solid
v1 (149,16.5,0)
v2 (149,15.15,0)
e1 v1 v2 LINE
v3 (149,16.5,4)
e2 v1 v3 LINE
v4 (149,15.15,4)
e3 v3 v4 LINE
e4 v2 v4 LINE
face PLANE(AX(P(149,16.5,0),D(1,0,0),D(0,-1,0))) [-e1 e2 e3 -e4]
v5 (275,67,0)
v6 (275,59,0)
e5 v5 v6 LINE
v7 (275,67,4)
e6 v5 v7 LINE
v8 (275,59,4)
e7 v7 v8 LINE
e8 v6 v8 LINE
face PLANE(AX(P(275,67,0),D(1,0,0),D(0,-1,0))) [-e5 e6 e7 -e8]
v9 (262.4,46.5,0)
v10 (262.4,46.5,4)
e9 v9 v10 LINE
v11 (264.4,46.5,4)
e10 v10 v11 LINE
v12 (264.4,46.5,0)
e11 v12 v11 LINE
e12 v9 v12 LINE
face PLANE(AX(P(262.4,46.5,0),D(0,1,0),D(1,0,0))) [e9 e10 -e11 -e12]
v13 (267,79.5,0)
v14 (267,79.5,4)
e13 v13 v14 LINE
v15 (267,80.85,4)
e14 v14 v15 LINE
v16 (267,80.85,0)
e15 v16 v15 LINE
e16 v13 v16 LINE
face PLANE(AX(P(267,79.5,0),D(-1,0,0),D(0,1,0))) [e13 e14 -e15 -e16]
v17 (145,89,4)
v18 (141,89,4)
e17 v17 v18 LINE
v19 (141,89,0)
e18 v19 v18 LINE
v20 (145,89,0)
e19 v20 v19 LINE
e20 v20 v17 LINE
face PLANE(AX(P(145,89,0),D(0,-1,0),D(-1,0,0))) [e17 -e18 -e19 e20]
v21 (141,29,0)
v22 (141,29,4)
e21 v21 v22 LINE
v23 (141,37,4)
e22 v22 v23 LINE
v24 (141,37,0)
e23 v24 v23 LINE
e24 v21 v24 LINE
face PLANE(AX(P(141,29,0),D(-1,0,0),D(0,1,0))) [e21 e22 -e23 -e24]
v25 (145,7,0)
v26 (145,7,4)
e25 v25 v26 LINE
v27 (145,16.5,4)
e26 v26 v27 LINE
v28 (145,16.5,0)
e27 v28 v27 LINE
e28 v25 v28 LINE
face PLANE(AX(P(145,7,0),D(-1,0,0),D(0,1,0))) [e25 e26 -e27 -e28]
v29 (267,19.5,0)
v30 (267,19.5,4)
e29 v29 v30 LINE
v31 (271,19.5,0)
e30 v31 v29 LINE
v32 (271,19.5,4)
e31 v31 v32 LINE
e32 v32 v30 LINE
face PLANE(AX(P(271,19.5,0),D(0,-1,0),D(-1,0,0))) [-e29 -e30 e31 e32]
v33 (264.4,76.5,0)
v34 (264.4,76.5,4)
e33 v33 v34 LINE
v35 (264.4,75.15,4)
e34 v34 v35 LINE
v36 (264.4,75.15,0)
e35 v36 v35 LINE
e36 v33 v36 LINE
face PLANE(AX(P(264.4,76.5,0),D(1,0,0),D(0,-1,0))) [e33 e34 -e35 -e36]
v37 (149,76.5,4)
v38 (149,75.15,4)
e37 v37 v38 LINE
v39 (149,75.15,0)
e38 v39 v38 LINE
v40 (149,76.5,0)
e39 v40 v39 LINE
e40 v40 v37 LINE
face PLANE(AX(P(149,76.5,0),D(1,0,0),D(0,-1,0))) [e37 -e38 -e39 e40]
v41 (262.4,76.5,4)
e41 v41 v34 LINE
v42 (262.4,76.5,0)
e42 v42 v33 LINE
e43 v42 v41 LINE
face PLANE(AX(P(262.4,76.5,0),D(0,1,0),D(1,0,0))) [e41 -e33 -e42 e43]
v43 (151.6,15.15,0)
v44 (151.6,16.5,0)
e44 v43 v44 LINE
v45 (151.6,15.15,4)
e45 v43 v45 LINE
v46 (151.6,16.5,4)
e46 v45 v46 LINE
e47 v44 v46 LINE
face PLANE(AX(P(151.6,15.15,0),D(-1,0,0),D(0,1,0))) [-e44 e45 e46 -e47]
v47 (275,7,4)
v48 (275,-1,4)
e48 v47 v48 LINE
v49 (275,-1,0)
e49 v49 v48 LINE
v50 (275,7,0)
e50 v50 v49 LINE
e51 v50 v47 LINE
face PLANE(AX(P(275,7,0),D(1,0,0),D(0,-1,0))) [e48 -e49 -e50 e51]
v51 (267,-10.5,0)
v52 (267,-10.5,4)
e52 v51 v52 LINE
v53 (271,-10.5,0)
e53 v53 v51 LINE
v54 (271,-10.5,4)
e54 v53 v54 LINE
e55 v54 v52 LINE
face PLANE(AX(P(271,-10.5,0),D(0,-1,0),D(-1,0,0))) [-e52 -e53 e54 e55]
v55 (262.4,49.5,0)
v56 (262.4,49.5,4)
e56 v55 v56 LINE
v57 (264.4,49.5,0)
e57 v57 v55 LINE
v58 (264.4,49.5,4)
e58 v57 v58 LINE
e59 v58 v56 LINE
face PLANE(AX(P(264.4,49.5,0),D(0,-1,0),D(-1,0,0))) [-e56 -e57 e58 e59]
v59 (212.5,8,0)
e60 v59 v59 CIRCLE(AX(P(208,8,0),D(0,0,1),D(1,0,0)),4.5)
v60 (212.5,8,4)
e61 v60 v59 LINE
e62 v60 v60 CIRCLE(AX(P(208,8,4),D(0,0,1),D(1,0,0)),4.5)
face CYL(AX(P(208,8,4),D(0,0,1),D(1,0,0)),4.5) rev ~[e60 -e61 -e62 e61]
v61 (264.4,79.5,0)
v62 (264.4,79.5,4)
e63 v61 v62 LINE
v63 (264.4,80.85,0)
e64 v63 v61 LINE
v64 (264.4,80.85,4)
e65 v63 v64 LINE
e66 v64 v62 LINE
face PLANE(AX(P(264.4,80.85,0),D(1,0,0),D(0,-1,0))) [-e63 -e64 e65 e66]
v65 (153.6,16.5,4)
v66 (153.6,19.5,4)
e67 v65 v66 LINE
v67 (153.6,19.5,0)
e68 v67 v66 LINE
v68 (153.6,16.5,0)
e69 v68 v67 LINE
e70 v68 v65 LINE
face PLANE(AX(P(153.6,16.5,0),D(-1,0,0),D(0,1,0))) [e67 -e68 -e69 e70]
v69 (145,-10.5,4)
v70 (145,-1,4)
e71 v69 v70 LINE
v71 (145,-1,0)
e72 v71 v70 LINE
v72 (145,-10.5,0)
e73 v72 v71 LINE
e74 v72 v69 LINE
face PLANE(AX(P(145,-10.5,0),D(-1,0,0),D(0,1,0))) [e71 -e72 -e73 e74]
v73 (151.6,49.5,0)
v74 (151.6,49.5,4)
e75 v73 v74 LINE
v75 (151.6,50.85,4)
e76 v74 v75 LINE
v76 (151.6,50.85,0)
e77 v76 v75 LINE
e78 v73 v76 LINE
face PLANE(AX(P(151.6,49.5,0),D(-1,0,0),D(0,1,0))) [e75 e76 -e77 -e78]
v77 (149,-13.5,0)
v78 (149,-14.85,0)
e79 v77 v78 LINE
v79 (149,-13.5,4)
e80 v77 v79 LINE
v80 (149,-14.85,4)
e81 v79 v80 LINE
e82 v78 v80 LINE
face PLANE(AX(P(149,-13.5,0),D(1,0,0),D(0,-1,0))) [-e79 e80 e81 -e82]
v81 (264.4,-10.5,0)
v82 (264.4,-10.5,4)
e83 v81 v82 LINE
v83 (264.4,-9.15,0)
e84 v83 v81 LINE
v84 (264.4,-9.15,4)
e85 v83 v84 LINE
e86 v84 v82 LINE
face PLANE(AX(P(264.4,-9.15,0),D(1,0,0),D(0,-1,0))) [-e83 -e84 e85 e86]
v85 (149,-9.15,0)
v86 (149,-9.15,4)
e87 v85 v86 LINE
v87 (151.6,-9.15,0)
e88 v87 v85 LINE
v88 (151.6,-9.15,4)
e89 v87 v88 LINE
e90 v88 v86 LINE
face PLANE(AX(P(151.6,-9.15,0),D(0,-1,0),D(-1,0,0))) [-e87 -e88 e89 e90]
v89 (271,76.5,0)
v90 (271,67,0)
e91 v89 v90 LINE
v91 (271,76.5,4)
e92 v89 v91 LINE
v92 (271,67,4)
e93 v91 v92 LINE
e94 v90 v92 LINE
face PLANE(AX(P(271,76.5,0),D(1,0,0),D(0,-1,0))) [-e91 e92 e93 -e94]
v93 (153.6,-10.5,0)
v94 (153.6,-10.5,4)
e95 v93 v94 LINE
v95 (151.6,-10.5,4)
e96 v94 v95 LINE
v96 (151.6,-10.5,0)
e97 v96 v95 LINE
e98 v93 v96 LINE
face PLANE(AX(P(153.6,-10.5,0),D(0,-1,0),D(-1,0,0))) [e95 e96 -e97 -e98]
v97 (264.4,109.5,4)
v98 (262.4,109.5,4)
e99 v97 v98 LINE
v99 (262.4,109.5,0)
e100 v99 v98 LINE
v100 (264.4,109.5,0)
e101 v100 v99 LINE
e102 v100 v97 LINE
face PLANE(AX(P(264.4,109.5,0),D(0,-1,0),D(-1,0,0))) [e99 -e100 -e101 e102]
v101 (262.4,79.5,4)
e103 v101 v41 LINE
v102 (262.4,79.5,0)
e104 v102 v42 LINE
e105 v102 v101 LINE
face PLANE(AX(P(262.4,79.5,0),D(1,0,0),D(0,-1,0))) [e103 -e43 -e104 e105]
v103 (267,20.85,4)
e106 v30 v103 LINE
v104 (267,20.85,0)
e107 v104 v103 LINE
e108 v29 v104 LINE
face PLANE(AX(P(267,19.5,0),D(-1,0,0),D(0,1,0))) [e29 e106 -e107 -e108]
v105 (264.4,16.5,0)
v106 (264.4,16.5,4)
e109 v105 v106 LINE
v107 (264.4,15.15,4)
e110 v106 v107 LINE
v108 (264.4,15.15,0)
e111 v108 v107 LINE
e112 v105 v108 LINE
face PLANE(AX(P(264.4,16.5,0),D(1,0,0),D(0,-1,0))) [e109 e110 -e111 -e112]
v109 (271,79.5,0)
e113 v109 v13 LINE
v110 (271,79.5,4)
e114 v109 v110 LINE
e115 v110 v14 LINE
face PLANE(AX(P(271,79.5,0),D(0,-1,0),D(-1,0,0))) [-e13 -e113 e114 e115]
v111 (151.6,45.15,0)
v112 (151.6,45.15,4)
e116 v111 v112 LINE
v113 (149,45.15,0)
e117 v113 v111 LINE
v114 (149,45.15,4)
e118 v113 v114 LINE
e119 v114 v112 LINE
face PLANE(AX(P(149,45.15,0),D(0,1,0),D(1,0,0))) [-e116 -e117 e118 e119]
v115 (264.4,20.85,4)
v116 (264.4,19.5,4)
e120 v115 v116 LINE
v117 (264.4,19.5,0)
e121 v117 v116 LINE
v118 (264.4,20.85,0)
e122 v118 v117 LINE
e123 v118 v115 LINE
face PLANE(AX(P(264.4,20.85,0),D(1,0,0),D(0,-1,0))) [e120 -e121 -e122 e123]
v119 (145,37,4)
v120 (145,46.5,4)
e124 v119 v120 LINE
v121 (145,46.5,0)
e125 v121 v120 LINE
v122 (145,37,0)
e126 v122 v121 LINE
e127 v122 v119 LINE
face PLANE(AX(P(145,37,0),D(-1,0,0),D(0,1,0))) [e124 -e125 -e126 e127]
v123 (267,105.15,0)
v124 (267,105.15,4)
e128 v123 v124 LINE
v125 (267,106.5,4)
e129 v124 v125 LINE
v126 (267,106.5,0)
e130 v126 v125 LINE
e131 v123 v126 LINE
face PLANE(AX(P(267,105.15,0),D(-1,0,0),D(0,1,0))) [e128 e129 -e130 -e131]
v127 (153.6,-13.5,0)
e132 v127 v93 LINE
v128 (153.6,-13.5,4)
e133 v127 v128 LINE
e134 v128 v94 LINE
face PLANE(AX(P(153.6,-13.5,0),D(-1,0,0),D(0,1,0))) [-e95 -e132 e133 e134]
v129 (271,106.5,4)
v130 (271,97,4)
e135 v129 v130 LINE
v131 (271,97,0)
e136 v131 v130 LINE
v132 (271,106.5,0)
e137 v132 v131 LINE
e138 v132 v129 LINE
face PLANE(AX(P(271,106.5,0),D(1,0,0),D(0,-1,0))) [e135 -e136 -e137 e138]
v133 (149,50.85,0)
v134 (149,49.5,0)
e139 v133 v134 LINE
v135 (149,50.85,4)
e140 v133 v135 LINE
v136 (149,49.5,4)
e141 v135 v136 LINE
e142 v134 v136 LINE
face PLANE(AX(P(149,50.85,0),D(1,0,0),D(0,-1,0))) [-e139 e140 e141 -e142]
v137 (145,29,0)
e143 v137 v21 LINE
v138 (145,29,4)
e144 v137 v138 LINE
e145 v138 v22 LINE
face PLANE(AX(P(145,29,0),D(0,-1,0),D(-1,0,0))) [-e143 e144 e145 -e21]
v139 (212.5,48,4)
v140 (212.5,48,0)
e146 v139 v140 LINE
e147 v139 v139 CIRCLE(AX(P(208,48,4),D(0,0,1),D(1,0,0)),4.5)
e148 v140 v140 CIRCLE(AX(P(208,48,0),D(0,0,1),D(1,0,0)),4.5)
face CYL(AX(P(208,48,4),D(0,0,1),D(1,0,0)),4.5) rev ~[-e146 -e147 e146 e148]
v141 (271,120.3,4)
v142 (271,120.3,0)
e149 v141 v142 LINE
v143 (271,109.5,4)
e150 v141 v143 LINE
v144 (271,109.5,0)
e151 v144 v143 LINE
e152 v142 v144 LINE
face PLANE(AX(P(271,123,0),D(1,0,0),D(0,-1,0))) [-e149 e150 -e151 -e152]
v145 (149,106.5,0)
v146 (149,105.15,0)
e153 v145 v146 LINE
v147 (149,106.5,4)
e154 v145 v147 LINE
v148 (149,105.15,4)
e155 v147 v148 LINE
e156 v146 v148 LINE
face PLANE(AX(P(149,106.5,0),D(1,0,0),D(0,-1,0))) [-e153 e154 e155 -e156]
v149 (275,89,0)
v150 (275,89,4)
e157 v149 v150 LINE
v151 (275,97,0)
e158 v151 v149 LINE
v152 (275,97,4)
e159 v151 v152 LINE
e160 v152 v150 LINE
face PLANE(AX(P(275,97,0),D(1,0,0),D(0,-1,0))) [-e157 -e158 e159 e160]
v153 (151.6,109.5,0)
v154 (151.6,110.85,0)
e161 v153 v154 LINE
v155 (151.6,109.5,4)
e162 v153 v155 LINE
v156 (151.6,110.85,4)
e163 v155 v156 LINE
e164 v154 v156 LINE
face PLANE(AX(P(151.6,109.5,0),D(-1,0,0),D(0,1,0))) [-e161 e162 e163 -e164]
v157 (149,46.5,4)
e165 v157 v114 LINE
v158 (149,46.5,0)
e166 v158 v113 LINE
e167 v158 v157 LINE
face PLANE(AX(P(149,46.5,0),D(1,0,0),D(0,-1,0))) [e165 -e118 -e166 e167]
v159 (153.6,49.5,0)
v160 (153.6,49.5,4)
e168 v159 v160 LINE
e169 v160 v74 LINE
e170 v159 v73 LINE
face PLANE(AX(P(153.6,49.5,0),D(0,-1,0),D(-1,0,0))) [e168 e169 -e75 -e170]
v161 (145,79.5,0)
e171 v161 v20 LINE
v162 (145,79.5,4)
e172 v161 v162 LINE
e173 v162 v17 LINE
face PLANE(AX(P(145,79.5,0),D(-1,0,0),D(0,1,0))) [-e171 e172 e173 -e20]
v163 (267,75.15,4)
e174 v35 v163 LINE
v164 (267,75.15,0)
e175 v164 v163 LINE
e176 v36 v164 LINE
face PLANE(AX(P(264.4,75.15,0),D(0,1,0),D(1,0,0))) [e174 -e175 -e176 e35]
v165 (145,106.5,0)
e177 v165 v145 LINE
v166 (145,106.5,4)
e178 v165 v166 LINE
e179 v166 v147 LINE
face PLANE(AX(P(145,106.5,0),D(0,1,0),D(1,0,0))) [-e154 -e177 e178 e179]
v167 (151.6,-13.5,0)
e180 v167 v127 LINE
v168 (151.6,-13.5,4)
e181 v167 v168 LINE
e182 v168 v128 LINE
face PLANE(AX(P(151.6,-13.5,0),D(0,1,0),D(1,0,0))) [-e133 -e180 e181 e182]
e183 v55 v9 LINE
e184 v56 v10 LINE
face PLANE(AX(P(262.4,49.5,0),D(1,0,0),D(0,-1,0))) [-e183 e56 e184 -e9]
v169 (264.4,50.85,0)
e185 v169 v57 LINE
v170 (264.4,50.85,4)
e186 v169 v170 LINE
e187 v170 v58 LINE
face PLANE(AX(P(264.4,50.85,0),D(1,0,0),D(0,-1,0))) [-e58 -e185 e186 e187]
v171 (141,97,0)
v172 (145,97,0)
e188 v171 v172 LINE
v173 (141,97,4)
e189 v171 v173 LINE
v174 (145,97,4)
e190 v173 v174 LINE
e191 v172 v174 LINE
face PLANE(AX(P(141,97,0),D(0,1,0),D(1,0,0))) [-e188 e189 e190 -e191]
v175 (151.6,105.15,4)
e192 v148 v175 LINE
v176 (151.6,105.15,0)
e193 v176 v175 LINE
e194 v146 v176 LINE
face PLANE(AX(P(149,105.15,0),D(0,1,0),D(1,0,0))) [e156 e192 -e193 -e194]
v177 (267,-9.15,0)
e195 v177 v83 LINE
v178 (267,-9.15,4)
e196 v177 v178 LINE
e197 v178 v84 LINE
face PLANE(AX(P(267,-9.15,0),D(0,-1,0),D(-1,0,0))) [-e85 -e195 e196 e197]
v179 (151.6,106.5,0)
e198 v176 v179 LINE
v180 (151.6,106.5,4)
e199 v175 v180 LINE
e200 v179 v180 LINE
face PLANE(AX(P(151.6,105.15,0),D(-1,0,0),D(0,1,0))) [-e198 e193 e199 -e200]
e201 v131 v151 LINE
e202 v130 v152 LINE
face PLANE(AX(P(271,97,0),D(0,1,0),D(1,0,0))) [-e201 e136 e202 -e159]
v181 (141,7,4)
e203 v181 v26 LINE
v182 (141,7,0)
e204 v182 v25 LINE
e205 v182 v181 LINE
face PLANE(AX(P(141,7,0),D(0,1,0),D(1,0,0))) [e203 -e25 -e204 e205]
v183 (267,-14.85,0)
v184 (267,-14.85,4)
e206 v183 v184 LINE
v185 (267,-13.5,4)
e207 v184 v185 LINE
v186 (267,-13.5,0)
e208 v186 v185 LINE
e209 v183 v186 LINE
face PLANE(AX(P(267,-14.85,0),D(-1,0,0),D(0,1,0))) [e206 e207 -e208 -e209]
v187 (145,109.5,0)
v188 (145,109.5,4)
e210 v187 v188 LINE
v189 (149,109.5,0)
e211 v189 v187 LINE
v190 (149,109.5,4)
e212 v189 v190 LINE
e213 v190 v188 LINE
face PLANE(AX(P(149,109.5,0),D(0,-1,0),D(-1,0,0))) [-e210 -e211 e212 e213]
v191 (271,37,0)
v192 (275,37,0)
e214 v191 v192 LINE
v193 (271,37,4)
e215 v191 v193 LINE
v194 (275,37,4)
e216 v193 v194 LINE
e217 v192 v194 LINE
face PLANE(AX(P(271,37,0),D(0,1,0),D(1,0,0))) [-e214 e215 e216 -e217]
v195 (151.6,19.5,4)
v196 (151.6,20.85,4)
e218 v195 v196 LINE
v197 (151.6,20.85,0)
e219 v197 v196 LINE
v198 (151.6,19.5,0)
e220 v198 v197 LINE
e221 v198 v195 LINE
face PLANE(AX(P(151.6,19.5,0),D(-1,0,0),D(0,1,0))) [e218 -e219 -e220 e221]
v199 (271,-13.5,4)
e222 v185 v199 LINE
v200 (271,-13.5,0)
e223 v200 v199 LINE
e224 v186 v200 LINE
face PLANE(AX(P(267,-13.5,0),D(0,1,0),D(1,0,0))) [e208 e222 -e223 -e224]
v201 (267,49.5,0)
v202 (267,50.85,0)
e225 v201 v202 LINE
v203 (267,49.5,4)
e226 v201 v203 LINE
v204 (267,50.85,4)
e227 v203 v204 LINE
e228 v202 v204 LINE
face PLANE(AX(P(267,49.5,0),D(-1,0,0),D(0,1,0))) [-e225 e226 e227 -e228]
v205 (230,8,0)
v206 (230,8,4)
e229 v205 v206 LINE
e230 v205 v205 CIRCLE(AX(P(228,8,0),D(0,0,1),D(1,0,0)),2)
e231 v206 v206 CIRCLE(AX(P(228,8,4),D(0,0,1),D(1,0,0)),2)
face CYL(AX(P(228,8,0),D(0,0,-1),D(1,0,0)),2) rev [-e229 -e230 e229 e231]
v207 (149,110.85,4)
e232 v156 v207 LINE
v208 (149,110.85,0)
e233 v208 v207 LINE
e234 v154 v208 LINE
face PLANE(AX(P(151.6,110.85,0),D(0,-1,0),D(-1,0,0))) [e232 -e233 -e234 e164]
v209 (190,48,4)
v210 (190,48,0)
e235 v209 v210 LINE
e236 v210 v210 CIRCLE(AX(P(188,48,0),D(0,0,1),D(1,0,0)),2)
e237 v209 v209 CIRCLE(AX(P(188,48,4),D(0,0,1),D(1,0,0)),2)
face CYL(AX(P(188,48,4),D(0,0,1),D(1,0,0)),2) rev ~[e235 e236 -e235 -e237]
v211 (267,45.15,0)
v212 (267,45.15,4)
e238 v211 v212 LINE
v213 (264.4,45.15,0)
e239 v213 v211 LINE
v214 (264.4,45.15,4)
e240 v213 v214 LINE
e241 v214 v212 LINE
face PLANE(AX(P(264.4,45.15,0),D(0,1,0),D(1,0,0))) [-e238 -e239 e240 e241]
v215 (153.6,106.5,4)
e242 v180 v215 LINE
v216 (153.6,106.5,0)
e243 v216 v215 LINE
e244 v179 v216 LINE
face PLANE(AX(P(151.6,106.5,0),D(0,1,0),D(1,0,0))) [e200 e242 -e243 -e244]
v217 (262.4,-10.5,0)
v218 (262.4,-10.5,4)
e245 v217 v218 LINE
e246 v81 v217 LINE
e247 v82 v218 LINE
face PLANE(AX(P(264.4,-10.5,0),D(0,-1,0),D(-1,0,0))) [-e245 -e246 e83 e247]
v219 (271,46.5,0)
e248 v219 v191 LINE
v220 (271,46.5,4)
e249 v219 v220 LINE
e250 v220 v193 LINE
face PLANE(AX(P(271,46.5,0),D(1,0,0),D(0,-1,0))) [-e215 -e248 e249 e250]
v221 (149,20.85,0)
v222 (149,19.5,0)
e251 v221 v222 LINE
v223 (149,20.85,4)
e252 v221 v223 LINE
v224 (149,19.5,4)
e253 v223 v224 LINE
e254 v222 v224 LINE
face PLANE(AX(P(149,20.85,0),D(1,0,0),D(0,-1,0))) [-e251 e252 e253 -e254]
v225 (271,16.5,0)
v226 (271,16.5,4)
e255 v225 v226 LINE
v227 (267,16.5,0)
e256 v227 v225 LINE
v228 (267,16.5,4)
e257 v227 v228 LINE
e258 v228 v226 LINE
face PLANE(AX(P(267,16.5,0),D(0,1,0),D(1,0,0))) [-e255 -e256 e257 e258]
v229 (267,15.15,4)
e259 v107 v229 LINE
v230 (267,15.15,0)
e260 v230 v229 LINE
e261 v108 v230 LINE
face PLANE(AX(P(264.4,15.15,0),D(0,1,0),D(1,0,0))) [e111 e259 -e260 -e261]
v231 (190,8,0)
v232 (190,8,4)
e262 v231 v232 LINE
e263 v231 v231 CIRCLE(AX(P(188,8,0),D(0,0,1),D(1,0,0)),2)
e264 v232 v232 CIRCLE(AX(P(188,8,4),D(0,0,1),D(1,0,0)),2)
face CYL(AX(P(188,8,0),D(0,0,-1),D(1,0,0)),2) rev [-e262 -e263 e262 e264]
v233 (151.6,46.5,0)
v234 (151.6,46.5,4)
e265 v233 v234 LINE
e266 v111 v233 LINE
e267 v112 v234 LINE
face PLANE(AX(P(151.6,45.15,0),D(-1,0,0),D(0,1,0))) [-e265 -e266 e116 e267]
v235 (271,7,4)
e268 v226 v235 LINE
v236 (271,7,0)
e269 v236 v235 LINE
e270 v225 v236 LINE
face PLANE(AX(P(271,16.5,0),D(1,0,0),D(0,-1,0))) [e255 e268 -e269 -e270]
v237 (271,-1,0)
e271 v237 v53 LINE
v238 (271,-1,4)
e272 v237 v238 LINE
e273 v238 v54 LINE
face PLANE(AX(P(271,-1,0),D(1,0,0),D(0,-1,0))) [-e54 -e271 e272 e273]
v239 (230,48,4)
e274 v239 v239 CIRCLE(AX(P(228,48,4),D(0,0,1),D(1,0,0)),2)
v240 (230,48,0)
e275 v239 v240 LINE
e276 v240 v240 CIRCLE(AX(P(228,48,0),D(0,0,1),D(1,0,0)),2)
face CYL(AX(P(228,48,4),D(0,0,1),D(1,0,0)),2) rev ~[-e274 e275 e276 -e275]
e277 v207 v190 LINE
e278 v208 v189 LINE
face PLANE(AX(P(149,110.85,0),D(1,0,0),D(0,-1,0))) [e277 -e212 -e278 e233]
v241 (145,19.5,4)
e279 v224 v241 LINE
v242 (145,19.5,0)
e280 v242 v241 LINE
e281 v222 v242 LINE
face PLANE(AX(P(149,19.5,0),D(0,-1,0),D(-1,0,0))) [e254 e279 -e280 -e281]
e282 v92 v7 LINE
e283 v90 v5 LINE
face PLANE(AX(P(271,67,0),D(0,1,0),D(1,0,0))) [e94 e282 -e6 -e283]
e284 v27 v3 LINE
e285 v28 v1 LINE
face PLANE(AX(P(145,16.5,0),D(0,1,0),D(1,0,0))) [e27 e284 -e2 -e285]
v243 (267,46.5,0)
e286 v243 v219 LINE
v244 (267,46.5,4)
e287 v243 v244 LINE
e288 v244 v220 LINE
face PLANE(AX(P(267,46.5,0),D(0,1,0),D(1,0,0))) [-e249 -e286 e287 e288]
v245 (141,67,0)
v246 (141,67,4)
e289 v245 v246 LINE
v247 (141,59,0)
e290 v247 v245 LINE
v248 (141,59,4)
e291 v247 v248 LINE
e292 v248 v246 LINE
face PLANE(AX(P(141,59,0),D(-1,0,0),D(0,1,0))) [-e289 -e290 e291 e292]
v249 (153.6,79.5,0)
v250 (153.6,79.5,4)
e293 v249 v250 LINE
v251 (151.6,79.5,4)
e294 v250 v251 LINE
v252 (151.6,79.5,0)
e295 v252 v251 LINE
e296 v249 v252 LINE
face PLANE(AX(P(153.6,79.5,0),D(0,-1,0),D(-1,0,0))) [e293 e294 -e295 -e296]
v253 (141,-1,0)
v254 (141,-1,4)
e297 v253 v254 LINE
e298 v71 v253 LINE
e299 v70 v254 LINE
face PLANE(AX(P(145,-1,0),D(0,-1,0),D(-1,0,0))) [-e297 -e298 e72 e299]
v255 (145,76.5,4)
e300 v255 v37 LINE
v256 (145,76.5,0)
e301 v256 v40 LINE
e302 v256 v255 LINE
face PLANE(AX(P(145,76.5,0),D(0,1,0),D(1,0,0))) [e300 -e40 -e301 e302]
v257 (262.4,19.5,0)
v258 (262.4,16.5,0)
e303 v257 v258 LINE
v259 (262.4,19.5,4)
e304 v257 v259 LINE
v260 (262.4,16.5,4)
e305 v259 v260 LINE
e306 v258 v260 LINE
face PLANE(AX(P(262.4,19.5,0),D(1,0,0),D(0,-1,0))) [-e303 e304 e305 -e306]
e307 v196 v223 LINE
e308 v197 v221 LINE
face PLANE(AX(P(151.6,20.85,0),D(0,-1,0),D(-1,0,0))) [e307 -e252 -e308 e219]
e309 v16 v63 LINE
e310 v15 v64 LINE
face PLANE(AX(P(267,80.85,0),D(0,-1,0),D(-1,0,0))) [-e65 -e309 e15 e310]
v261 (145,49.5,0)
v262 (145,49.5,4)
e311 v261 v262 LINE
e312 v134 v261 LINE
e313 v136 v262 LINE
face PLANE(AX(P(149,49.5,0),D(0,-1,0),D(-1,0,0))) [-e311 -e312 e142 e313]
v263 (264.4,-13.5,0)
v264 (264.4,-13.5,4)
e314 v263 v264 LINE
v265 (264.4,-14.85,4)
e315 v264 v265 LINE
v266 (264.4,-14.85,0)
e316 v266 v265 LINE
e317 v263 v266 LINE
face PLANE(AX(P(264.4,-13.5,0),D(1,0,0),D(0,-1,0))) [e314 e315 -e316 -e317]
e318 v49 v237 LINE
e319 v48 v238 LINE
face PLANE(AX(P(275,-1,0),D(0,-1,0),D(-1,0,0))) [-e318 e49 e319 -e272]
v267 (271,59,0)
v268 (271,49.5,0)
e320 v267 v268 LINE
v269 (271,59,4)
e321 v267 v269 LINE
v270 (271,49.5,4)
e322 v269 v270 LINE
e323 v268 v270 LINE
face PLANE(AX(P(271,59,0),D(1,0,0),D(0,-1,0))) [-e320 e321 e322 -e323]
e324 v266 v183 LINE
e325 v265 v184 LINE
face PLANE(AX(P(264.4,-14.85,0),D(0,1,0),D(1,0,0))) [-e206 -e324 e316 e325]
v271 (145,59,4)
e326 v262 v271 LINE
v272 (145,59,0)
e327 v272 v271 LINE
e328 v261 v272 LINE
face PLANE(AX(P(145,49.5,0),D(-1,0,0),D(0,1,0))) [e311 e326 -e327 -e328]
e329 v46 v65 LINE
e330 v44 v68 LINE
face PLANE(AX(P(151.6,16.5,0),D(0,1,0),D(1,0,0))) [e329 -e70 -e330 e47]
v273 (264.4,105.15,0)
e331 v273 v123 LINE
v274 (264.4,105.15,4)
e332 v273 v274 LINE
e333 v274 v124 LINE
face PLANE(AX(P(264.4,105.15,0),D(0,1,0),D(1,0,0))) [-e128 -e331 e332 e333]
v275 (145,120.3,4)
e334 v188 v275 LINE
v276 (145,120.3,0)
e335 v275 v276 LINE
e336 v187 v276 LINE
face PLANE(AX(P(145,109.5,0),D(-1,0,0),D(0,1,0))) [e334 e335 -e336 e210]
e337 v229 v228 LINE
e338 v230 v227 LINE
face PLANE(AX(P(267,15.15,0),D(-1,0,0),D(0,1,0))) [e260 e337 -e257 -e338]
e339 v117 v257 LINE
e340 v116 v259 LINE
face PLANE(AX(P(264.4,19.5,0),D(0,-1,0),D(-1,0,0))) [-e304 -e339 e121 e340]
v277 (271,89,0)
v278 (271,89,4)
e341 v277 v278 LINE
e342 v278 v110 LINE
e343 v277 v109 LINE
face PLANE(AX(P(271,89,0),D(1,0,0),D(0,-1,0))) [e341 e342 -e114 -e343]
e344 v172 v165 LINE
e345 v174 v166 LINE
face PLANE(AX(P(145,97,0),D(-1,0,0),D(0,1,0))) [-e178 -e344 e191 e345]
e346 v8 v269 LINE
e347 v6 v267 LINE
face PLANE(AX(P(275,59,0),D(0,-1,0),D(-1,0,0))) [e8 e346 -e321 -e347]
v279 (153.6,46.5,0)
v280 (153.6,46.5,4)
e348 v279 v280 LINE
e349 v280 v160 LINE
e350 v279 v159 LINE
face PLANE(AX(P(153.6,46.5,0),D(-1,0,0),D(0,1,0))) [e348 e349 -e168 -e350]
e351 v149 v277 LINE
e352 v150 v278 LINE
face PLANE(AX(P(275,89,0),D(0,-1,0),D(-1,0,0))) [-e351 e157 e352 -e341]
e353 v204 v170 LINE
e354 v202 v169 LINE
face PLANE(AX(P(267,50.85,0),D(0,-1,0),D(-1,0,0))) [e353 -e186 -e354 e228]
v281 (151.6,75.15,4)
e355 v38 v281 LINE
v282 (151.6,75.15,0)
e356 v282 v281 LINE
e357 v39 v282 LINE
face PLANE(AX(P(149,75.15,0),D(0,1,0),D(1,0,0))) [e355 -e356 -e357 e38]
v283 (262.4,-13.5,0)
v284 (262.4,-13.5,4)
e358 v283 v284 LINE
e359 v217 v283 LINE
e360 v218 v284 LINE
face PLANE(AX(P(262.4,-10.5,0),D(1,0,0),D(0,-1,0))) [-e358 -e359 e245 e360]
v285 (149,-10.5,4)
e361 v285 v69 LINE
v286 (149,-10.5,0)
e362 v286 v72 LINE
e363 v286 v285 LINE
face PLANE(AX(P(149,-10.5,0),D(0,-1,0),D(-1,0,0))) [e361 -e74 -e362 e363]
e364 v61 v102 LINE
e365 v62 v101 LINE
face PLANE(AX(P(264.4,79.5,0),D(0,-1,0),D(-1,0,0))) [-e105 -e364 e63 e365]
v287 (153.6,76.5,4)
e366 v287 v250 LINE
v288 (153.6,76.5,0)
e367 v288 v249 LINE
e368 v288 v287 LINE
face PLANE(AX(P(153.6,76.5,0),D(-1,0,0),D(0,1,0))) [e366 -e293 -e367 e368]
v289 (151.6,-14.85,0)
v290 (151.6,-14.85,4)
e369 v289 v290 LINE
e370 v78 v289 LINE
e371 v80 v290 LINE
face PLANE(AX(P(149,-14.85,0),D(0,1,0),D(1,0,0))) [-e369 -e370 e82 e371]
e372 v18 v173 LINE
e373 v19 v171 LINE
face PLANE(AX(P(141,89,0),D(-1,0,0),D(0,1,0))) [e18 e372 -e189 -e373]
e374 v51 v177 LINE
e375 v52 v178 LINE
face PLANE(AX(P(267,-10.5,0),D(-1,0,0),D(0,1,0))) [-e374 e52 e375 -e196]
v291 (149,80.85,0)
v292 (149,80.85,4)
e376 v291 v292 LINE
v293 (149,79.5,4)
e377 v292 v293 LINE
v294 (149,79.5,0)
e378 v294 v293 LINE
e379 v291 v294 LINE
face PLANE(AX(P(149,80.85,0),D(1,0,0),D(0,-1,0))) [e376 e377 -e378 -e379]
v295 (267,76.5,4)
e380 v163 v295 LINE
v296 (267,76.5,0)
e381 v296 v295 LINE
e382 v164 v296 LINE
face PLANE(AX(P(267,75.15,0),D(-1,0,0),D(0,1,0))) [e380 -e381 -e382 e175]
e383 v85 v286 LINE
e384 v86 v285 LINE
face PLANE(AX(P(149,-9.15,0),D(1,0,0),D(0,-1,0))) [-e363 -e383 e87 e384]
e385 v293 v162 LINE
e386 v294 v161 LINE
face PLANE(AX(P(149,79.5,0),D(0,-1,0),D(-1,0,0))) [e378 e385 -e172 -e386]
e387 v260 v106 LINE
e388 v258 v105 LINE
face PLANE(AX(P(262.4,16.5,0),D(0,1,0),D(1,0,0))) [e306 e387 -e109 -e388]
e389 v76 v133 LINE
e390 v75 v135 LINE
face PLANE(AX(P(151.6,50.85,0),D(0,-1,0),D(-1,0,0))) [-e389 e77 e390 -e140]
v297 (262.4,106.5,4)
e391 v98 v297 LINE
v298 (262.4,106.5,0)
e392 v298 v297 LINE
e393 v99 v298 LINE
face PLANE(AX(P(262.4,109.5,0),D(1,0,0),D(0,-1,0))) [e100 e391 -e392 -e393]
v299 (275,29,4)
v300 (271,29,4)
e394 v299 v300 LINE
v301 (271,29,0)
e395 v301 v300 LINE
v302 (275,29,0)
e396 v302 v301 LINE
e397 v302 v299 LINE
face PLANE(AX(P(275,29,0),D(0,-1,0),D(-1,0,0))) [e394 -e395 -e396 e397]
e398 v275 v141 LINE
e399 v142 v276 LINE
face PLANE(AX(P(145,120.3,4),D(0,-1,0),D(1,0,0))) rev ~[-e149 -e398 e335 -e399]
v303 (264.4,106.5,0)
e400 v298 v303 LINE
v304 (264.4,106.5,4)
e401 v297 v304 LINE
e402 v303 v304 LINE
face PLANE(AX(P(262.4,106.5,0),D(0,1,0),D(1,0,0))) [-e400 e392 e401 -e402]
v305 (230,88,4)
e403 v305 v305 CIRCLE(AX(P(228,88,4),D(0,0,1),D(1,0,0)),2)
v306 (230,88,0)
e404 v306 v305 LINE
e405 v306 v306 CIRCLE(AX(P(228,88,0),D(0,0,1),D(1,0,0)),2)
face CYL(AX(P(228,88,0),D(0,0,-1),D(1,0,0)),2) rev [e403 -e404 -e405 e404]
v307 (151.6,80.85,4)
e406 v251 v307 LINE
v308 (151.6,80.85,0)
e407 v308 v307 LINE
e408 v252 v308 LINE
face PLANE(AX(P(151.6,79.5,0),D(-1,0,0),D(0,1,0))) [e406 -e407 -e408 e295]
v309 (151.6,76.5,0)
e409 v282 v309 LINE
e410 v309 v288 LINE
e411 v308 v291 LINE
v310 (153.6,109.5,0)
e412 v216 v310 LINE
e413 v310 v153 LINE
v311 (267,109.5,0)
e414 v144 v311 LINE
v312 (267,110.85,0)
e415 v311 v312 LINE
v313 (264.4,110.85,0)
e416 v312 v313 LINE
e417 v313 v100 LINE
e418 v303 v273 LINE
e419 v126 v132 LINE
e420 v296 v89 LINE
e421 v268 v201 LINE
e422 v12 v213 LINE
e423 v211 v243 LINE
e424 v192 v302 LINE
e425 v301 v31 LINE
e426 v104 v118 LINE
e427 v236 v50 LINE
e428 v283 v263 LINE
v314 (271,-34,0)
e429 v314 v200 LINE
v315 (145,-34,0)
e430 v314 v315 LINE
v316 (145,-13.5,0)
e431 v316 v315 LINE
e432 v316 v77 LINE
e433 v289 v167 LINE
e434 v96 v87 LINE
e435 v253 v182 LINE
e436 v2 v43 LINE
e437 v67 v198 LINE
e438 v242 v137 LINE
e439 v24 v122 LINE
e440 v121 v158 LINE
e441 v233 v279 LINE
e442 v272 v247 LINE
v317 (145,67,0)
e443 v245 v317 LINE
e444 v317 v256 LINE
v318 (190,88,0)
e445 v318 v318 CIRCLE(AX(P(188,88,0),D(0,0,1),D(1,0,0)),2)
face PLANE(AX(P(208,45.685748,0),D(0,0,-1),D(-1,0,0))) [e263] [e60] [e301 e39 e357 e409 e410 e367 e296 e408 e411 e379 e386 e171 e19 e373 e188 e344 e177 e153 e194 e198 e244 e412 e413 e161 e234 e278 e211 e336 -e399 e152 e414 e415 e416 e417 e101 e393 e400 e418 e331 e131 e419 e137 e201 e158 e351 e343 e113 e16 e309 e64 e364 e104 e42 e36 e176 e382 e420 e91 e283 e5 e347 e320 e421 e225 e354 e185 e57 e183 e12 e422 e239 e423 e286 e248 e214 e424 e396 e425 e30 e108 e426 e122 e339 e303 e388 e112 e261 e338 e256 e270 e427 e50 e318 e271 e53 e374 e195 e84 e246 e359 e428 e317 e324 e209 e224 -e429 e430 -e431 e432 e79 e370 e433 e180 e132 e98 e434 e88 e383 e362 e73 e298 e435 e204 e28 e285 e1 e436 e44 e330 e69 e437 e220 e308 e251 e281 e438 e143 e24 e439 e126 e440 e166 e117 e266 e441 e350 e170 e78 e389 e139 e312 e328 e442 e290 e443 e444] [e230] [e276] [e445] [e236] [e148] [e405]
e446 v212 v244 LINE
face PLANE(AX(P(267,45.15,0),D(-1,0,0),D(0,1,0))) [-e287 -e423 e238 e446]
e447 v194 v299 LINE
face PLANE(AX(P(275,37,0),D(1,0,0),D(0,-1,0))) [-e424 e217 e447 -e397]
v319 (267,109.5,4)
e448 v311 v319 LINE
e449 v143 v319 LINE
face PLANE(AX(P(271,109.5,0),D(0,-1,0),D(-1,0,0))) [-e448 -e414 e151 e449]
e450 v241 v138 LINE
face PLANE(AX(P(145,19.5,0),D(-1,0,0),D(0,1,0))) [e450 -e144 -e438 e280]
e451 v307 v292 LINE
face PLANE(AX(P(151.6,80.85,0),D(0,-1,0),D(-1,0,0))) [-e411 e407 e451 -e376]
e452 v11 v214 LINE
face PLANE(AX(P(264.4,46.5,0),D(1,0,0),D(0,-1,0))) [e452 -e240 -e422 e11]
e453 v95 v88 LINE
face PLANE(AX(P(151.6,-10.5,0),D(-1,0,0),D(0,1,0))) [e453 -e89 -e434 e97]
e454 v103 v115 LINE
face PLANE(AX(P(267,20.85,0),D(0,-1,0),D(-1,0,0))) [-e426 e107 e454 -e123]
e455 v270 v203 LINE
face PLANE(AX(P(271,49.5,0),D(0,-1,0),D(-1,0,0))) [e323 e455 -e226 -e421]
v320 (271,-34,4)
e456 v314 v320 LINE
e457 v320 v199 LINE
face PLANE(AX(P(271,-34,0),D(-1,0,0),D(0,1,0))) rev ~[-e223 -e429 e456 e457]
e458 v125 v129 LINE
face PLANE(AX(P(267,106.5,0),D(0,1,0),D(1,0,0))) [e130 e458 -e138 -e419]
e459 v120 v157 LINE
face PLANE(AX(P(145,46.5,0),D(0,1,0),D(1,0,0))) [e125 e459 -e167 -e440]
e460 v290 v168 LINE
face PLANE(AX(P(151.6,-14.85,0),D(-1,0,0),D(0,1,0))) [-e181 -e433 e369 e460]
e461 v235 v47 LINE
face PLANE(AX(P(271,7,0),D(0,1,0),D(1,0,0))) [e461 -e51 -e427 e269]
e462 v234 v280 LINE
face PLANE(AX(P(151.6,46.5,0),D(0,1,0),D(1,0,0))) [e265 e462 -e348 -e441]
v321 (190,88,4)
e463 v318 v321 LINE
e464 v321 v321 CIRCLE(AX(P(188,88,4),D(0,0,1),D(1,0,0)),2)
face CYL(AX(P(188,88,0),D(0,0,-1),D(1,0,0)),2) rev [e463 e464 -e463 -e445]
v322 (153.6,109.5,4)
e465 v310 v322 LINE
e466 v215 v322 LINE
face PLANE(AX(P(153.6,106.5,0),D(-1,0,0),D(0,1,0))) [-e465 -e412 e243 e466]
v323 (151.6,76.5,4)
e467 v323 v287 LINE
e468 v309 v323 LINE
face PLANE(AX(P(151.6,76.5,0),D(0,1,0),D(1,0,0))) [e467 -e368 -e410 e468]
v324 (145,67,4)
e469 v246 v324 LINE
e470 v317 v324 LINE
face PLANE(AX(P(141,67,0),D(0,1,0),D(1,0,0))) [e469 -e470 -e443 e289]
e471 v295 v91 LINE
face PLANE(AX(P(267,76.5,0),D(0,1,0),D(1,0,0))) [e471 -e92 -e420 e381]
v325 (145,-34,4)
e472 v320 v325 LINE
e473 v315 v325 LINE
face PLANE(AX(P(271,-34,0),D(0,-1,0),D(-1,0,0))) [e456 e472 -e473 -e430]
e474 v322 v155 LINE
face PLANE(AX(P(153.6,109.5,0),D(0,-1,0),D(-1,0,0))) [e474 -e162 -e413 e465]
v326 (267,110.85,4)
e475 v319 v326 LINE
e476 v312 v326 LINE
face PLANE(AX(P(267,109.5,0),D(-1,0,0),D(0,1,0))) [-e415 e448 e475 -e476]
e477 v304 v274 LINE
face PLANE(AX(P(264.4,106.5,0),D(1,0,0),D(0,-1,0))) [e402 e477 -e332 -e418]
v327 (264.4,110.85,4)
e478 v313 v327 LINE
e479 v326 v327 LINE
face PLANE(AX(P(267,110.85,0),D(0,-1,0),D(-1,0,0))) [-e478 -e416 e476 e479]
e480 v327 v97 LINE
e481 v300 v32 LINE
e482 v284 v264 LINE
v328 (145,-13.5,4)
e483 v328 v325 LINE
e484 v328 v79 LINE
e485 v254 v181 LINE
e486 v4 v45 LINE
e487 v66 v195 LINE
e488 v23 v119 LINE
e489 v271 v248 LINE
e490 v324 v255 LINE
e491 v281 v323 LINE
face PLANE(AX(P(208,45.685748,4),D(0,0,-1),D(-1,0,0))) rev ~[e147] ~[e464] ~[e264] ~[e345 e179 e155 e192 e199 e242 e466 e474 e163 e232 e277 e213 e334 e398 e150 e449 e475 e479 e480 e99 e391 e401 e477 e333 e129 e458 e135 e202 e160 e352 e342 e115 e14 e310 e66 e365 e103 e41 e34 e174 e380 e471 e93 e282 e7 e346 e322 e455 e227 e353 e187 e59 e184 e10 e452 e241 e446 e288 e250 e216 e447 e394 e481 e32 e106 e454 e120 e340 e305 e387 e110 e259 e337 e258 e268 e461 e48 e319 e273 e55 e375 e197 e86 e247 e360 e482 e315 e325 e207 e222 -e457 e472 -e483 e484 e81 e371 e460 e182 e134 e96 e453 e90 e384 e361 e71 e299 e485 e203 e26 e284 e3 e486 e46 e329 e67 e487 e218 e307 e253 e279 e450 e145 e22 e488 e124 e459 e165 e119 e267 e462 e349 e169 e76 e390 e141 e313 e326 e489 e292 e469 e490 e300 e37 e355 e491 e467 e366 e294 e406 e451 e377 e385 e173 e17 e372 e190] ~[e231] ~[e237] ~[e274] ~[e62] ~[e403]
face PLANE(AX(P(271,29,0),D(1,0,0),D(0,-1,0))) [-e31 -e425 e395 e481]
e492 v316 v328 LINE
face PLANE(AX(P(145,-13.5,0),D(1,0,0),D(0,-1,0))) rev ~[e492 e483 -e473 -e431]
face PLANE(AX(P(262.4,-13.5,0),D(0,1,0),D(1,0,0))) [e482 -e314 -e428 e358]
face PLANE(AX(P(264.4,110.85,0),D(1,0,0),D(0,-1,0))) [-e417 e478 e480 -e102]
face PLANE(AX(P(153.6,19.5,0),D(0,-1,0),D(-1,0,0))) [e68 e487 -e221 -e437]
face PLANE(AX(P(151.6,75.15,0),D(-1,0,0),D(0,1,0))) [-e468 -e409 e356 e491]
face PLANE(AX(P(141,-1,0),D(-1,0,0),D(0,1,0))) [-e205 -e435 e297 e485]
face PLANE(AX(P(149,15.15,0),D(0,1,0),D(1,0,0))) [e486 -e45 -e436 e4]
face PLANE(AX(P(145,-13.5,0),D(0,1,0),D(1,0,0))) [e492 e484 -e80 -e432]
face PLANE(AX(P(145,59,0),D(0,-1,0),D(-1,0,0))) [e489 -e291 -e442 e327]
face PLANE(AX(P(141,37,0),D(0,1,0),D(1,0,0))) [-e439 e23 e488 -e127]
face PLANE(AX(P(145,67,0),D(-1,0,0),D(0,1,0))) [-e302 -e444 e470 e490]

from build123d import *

# Parameters (mm, degrees)
SKETCH_1_R          = 2
EXTRUDE_1_DEPTH     = 4
SKETCH_3_W          = 126
SKETCH_3_H          = 2.7
CUT_EXTRUDE_1_DEPTH = 10
SKETCH_4_R          = 4.5
SKETCH_4_R_2        = 2
CUT_EXTRUDE_2_DEPTH = 10


with BuildPart() as part:
    # 草图1 → 凸台-拉伸1 (new body)
    with BuildSketch(Plane.XY):
        Polygon((145, 46.5), (149, 46.5), (149, 45.15), (151.6, 45.15), (151.6, 46.5), (153.6, 46.5), (153.6, 49.5), (151.6, 49.5), (151.6, 50.85), (149, 50.85), (149, 49.5), (145, 49.5), (145, 59), (141, 59), (141, 67), (145, 67), (145, 76.5), (149, 76.5), (149, 75.15), (151.6, 75.15), (151.6, 76.5), (153.6, 76.5), (153.6, 79.5), (151.6, 79.5), (151.6, 80.85), (149, 80.85), (149, 79.5), (145, 79.5), (145, 89), (141, 89), (141, 97), (145, 97), (145, 106.5), (149, 106.5), (149, 105.15), (151.6, 105.15), (151.6, 106.5), (153.6, 106.5), (153.6, 109.5), (151.6, 109.5), (151.6, 110.85), (149, 110.85), (149, 109.5), (145, 109.5), (145, 123), (271, 123), (271, 109.5), (267, 109.5), (267, 110.85), (264.4, 110.85), (264.4, 109.5), (262.4, 109.5), (262.4, 106.5), (264.4, 106.5), (264.4, 105.15), (267, 105.15), (267, 106.5), (271, 106.5), (271, 97), (275, 97), (275, 89), (271, 89), (271, 79.5), (267, 79.5), (267, 80.85), (264.4, 80.85), (264.4, 79.5), (262.4, 79.5), (262.4, 76.5), (264.4, 76.5), (264.4, 75.15), (267, 75.15), (267, 76.5), (271, 76.5), (271, 67), (275, 67), (275, 59), (271, 59), (271, 49.5), (267, 49.5), (267, 50.85), (264.4, 50.85), (264.4, 49.5), (262.4, 49.5), (262.4, 46.5), (264.4, 46.5), (264.4, 45.15), (267, 45.15), (267, 46.5), (271, 46.5), (271, 37), (275, 37), (275, 29), (271, 29), (271, 19.5), (267, 19.5), (267, 20.85), (264.4, 20.85), (264.4, 19.5), (262.4, 19.5), (262.4, 16.5), (264.4, 16.5), (264.4, 15.15), (267, 15.15), (267, 16.5), (271, 16.5), (271, 7), (275, 7), (275, -1), (271, -1), (271, -10.5), (267, -10.5), (267, -9.15), (264.4, -9.15), (264.4, -10.5), (262.4, -10.5), (262.4, -13.5), (264.4, -13.5), (264.4, -14.85), (267, -14.85), (267, -13.5), (271, -13.5), (271, -27), (271, -34), (145, -34), (145, -27), (145, -13.5), (149, -13.5), (149, -14.85), (151.6, -14.85), (151.6, -13.5), (153.6, -13.5), (153.6, -10.5), (151.6, -10.5), (151.6, -9.15), (149, -9.15), (149, -10.5), (145, -10.5), (145, -1), (141, -1), (141, 7), (145, 7), (145, 16.5), (149, 16.5), (149, 15.15), (151.6, 15.15), (151.6, 16.5), (153.6, 16.5), (153.6, 19.5), (151.6, 19.5), (151.6, 20.85), (149, 20.85), (149, 19.5), (145, 19.5), (145, 29), (141, 29), (141, 37), (145, 37), align=None)
        with Locations((188, 8)):
            Circle(SKETCH_1_R, mode=Mode.SUBTRACT)
        with Locations((228, 8)):
            Circle(SKETCH_1_R, mode=Mode.SUBTRACT)
        with Locations((228, 88)):
            Circle(SKETCH_1_R, mode=Mode.SUBTRACT)
        with Locations((188, 88)):
            Circle(SKETCH_1_R, mode=Mode.SUBTRACT)
    extrude(amount=EXTRUDE_1_DEPTH)

    # 草图3 → 切除-拉伸1 (cut)
    with BuildSketch(Plane.XY.offset(4)):
        with Locations((208, 121.65)):
            Rectangle(SKETCH_3_W, SKETCH_3_H)
    extrude(amount=-CUT_EXTRUDE_1_DEPTH, mode=Mode.SUBTRACT)

    # 草图4 → 切除-拉伸2 (cut)
    with BuildSketch(Plane.XY.offset(4)):
        with Locations((208, 8)):
            Circle(SKETCH_4_R)
        with Locations((228, 48)):
            Circle(SKETCH_4_R_2)
        with Locations((188, 48)):
            Circle(SKETCH_4_R_2)
        with Locations((208, 48)):
            Circle(SKETCH_4_R)
    extrude(amount=-CUT_EXTRUDE_2_DEPTH, mode=Mode.SUBTRACT)


solid = part.part
